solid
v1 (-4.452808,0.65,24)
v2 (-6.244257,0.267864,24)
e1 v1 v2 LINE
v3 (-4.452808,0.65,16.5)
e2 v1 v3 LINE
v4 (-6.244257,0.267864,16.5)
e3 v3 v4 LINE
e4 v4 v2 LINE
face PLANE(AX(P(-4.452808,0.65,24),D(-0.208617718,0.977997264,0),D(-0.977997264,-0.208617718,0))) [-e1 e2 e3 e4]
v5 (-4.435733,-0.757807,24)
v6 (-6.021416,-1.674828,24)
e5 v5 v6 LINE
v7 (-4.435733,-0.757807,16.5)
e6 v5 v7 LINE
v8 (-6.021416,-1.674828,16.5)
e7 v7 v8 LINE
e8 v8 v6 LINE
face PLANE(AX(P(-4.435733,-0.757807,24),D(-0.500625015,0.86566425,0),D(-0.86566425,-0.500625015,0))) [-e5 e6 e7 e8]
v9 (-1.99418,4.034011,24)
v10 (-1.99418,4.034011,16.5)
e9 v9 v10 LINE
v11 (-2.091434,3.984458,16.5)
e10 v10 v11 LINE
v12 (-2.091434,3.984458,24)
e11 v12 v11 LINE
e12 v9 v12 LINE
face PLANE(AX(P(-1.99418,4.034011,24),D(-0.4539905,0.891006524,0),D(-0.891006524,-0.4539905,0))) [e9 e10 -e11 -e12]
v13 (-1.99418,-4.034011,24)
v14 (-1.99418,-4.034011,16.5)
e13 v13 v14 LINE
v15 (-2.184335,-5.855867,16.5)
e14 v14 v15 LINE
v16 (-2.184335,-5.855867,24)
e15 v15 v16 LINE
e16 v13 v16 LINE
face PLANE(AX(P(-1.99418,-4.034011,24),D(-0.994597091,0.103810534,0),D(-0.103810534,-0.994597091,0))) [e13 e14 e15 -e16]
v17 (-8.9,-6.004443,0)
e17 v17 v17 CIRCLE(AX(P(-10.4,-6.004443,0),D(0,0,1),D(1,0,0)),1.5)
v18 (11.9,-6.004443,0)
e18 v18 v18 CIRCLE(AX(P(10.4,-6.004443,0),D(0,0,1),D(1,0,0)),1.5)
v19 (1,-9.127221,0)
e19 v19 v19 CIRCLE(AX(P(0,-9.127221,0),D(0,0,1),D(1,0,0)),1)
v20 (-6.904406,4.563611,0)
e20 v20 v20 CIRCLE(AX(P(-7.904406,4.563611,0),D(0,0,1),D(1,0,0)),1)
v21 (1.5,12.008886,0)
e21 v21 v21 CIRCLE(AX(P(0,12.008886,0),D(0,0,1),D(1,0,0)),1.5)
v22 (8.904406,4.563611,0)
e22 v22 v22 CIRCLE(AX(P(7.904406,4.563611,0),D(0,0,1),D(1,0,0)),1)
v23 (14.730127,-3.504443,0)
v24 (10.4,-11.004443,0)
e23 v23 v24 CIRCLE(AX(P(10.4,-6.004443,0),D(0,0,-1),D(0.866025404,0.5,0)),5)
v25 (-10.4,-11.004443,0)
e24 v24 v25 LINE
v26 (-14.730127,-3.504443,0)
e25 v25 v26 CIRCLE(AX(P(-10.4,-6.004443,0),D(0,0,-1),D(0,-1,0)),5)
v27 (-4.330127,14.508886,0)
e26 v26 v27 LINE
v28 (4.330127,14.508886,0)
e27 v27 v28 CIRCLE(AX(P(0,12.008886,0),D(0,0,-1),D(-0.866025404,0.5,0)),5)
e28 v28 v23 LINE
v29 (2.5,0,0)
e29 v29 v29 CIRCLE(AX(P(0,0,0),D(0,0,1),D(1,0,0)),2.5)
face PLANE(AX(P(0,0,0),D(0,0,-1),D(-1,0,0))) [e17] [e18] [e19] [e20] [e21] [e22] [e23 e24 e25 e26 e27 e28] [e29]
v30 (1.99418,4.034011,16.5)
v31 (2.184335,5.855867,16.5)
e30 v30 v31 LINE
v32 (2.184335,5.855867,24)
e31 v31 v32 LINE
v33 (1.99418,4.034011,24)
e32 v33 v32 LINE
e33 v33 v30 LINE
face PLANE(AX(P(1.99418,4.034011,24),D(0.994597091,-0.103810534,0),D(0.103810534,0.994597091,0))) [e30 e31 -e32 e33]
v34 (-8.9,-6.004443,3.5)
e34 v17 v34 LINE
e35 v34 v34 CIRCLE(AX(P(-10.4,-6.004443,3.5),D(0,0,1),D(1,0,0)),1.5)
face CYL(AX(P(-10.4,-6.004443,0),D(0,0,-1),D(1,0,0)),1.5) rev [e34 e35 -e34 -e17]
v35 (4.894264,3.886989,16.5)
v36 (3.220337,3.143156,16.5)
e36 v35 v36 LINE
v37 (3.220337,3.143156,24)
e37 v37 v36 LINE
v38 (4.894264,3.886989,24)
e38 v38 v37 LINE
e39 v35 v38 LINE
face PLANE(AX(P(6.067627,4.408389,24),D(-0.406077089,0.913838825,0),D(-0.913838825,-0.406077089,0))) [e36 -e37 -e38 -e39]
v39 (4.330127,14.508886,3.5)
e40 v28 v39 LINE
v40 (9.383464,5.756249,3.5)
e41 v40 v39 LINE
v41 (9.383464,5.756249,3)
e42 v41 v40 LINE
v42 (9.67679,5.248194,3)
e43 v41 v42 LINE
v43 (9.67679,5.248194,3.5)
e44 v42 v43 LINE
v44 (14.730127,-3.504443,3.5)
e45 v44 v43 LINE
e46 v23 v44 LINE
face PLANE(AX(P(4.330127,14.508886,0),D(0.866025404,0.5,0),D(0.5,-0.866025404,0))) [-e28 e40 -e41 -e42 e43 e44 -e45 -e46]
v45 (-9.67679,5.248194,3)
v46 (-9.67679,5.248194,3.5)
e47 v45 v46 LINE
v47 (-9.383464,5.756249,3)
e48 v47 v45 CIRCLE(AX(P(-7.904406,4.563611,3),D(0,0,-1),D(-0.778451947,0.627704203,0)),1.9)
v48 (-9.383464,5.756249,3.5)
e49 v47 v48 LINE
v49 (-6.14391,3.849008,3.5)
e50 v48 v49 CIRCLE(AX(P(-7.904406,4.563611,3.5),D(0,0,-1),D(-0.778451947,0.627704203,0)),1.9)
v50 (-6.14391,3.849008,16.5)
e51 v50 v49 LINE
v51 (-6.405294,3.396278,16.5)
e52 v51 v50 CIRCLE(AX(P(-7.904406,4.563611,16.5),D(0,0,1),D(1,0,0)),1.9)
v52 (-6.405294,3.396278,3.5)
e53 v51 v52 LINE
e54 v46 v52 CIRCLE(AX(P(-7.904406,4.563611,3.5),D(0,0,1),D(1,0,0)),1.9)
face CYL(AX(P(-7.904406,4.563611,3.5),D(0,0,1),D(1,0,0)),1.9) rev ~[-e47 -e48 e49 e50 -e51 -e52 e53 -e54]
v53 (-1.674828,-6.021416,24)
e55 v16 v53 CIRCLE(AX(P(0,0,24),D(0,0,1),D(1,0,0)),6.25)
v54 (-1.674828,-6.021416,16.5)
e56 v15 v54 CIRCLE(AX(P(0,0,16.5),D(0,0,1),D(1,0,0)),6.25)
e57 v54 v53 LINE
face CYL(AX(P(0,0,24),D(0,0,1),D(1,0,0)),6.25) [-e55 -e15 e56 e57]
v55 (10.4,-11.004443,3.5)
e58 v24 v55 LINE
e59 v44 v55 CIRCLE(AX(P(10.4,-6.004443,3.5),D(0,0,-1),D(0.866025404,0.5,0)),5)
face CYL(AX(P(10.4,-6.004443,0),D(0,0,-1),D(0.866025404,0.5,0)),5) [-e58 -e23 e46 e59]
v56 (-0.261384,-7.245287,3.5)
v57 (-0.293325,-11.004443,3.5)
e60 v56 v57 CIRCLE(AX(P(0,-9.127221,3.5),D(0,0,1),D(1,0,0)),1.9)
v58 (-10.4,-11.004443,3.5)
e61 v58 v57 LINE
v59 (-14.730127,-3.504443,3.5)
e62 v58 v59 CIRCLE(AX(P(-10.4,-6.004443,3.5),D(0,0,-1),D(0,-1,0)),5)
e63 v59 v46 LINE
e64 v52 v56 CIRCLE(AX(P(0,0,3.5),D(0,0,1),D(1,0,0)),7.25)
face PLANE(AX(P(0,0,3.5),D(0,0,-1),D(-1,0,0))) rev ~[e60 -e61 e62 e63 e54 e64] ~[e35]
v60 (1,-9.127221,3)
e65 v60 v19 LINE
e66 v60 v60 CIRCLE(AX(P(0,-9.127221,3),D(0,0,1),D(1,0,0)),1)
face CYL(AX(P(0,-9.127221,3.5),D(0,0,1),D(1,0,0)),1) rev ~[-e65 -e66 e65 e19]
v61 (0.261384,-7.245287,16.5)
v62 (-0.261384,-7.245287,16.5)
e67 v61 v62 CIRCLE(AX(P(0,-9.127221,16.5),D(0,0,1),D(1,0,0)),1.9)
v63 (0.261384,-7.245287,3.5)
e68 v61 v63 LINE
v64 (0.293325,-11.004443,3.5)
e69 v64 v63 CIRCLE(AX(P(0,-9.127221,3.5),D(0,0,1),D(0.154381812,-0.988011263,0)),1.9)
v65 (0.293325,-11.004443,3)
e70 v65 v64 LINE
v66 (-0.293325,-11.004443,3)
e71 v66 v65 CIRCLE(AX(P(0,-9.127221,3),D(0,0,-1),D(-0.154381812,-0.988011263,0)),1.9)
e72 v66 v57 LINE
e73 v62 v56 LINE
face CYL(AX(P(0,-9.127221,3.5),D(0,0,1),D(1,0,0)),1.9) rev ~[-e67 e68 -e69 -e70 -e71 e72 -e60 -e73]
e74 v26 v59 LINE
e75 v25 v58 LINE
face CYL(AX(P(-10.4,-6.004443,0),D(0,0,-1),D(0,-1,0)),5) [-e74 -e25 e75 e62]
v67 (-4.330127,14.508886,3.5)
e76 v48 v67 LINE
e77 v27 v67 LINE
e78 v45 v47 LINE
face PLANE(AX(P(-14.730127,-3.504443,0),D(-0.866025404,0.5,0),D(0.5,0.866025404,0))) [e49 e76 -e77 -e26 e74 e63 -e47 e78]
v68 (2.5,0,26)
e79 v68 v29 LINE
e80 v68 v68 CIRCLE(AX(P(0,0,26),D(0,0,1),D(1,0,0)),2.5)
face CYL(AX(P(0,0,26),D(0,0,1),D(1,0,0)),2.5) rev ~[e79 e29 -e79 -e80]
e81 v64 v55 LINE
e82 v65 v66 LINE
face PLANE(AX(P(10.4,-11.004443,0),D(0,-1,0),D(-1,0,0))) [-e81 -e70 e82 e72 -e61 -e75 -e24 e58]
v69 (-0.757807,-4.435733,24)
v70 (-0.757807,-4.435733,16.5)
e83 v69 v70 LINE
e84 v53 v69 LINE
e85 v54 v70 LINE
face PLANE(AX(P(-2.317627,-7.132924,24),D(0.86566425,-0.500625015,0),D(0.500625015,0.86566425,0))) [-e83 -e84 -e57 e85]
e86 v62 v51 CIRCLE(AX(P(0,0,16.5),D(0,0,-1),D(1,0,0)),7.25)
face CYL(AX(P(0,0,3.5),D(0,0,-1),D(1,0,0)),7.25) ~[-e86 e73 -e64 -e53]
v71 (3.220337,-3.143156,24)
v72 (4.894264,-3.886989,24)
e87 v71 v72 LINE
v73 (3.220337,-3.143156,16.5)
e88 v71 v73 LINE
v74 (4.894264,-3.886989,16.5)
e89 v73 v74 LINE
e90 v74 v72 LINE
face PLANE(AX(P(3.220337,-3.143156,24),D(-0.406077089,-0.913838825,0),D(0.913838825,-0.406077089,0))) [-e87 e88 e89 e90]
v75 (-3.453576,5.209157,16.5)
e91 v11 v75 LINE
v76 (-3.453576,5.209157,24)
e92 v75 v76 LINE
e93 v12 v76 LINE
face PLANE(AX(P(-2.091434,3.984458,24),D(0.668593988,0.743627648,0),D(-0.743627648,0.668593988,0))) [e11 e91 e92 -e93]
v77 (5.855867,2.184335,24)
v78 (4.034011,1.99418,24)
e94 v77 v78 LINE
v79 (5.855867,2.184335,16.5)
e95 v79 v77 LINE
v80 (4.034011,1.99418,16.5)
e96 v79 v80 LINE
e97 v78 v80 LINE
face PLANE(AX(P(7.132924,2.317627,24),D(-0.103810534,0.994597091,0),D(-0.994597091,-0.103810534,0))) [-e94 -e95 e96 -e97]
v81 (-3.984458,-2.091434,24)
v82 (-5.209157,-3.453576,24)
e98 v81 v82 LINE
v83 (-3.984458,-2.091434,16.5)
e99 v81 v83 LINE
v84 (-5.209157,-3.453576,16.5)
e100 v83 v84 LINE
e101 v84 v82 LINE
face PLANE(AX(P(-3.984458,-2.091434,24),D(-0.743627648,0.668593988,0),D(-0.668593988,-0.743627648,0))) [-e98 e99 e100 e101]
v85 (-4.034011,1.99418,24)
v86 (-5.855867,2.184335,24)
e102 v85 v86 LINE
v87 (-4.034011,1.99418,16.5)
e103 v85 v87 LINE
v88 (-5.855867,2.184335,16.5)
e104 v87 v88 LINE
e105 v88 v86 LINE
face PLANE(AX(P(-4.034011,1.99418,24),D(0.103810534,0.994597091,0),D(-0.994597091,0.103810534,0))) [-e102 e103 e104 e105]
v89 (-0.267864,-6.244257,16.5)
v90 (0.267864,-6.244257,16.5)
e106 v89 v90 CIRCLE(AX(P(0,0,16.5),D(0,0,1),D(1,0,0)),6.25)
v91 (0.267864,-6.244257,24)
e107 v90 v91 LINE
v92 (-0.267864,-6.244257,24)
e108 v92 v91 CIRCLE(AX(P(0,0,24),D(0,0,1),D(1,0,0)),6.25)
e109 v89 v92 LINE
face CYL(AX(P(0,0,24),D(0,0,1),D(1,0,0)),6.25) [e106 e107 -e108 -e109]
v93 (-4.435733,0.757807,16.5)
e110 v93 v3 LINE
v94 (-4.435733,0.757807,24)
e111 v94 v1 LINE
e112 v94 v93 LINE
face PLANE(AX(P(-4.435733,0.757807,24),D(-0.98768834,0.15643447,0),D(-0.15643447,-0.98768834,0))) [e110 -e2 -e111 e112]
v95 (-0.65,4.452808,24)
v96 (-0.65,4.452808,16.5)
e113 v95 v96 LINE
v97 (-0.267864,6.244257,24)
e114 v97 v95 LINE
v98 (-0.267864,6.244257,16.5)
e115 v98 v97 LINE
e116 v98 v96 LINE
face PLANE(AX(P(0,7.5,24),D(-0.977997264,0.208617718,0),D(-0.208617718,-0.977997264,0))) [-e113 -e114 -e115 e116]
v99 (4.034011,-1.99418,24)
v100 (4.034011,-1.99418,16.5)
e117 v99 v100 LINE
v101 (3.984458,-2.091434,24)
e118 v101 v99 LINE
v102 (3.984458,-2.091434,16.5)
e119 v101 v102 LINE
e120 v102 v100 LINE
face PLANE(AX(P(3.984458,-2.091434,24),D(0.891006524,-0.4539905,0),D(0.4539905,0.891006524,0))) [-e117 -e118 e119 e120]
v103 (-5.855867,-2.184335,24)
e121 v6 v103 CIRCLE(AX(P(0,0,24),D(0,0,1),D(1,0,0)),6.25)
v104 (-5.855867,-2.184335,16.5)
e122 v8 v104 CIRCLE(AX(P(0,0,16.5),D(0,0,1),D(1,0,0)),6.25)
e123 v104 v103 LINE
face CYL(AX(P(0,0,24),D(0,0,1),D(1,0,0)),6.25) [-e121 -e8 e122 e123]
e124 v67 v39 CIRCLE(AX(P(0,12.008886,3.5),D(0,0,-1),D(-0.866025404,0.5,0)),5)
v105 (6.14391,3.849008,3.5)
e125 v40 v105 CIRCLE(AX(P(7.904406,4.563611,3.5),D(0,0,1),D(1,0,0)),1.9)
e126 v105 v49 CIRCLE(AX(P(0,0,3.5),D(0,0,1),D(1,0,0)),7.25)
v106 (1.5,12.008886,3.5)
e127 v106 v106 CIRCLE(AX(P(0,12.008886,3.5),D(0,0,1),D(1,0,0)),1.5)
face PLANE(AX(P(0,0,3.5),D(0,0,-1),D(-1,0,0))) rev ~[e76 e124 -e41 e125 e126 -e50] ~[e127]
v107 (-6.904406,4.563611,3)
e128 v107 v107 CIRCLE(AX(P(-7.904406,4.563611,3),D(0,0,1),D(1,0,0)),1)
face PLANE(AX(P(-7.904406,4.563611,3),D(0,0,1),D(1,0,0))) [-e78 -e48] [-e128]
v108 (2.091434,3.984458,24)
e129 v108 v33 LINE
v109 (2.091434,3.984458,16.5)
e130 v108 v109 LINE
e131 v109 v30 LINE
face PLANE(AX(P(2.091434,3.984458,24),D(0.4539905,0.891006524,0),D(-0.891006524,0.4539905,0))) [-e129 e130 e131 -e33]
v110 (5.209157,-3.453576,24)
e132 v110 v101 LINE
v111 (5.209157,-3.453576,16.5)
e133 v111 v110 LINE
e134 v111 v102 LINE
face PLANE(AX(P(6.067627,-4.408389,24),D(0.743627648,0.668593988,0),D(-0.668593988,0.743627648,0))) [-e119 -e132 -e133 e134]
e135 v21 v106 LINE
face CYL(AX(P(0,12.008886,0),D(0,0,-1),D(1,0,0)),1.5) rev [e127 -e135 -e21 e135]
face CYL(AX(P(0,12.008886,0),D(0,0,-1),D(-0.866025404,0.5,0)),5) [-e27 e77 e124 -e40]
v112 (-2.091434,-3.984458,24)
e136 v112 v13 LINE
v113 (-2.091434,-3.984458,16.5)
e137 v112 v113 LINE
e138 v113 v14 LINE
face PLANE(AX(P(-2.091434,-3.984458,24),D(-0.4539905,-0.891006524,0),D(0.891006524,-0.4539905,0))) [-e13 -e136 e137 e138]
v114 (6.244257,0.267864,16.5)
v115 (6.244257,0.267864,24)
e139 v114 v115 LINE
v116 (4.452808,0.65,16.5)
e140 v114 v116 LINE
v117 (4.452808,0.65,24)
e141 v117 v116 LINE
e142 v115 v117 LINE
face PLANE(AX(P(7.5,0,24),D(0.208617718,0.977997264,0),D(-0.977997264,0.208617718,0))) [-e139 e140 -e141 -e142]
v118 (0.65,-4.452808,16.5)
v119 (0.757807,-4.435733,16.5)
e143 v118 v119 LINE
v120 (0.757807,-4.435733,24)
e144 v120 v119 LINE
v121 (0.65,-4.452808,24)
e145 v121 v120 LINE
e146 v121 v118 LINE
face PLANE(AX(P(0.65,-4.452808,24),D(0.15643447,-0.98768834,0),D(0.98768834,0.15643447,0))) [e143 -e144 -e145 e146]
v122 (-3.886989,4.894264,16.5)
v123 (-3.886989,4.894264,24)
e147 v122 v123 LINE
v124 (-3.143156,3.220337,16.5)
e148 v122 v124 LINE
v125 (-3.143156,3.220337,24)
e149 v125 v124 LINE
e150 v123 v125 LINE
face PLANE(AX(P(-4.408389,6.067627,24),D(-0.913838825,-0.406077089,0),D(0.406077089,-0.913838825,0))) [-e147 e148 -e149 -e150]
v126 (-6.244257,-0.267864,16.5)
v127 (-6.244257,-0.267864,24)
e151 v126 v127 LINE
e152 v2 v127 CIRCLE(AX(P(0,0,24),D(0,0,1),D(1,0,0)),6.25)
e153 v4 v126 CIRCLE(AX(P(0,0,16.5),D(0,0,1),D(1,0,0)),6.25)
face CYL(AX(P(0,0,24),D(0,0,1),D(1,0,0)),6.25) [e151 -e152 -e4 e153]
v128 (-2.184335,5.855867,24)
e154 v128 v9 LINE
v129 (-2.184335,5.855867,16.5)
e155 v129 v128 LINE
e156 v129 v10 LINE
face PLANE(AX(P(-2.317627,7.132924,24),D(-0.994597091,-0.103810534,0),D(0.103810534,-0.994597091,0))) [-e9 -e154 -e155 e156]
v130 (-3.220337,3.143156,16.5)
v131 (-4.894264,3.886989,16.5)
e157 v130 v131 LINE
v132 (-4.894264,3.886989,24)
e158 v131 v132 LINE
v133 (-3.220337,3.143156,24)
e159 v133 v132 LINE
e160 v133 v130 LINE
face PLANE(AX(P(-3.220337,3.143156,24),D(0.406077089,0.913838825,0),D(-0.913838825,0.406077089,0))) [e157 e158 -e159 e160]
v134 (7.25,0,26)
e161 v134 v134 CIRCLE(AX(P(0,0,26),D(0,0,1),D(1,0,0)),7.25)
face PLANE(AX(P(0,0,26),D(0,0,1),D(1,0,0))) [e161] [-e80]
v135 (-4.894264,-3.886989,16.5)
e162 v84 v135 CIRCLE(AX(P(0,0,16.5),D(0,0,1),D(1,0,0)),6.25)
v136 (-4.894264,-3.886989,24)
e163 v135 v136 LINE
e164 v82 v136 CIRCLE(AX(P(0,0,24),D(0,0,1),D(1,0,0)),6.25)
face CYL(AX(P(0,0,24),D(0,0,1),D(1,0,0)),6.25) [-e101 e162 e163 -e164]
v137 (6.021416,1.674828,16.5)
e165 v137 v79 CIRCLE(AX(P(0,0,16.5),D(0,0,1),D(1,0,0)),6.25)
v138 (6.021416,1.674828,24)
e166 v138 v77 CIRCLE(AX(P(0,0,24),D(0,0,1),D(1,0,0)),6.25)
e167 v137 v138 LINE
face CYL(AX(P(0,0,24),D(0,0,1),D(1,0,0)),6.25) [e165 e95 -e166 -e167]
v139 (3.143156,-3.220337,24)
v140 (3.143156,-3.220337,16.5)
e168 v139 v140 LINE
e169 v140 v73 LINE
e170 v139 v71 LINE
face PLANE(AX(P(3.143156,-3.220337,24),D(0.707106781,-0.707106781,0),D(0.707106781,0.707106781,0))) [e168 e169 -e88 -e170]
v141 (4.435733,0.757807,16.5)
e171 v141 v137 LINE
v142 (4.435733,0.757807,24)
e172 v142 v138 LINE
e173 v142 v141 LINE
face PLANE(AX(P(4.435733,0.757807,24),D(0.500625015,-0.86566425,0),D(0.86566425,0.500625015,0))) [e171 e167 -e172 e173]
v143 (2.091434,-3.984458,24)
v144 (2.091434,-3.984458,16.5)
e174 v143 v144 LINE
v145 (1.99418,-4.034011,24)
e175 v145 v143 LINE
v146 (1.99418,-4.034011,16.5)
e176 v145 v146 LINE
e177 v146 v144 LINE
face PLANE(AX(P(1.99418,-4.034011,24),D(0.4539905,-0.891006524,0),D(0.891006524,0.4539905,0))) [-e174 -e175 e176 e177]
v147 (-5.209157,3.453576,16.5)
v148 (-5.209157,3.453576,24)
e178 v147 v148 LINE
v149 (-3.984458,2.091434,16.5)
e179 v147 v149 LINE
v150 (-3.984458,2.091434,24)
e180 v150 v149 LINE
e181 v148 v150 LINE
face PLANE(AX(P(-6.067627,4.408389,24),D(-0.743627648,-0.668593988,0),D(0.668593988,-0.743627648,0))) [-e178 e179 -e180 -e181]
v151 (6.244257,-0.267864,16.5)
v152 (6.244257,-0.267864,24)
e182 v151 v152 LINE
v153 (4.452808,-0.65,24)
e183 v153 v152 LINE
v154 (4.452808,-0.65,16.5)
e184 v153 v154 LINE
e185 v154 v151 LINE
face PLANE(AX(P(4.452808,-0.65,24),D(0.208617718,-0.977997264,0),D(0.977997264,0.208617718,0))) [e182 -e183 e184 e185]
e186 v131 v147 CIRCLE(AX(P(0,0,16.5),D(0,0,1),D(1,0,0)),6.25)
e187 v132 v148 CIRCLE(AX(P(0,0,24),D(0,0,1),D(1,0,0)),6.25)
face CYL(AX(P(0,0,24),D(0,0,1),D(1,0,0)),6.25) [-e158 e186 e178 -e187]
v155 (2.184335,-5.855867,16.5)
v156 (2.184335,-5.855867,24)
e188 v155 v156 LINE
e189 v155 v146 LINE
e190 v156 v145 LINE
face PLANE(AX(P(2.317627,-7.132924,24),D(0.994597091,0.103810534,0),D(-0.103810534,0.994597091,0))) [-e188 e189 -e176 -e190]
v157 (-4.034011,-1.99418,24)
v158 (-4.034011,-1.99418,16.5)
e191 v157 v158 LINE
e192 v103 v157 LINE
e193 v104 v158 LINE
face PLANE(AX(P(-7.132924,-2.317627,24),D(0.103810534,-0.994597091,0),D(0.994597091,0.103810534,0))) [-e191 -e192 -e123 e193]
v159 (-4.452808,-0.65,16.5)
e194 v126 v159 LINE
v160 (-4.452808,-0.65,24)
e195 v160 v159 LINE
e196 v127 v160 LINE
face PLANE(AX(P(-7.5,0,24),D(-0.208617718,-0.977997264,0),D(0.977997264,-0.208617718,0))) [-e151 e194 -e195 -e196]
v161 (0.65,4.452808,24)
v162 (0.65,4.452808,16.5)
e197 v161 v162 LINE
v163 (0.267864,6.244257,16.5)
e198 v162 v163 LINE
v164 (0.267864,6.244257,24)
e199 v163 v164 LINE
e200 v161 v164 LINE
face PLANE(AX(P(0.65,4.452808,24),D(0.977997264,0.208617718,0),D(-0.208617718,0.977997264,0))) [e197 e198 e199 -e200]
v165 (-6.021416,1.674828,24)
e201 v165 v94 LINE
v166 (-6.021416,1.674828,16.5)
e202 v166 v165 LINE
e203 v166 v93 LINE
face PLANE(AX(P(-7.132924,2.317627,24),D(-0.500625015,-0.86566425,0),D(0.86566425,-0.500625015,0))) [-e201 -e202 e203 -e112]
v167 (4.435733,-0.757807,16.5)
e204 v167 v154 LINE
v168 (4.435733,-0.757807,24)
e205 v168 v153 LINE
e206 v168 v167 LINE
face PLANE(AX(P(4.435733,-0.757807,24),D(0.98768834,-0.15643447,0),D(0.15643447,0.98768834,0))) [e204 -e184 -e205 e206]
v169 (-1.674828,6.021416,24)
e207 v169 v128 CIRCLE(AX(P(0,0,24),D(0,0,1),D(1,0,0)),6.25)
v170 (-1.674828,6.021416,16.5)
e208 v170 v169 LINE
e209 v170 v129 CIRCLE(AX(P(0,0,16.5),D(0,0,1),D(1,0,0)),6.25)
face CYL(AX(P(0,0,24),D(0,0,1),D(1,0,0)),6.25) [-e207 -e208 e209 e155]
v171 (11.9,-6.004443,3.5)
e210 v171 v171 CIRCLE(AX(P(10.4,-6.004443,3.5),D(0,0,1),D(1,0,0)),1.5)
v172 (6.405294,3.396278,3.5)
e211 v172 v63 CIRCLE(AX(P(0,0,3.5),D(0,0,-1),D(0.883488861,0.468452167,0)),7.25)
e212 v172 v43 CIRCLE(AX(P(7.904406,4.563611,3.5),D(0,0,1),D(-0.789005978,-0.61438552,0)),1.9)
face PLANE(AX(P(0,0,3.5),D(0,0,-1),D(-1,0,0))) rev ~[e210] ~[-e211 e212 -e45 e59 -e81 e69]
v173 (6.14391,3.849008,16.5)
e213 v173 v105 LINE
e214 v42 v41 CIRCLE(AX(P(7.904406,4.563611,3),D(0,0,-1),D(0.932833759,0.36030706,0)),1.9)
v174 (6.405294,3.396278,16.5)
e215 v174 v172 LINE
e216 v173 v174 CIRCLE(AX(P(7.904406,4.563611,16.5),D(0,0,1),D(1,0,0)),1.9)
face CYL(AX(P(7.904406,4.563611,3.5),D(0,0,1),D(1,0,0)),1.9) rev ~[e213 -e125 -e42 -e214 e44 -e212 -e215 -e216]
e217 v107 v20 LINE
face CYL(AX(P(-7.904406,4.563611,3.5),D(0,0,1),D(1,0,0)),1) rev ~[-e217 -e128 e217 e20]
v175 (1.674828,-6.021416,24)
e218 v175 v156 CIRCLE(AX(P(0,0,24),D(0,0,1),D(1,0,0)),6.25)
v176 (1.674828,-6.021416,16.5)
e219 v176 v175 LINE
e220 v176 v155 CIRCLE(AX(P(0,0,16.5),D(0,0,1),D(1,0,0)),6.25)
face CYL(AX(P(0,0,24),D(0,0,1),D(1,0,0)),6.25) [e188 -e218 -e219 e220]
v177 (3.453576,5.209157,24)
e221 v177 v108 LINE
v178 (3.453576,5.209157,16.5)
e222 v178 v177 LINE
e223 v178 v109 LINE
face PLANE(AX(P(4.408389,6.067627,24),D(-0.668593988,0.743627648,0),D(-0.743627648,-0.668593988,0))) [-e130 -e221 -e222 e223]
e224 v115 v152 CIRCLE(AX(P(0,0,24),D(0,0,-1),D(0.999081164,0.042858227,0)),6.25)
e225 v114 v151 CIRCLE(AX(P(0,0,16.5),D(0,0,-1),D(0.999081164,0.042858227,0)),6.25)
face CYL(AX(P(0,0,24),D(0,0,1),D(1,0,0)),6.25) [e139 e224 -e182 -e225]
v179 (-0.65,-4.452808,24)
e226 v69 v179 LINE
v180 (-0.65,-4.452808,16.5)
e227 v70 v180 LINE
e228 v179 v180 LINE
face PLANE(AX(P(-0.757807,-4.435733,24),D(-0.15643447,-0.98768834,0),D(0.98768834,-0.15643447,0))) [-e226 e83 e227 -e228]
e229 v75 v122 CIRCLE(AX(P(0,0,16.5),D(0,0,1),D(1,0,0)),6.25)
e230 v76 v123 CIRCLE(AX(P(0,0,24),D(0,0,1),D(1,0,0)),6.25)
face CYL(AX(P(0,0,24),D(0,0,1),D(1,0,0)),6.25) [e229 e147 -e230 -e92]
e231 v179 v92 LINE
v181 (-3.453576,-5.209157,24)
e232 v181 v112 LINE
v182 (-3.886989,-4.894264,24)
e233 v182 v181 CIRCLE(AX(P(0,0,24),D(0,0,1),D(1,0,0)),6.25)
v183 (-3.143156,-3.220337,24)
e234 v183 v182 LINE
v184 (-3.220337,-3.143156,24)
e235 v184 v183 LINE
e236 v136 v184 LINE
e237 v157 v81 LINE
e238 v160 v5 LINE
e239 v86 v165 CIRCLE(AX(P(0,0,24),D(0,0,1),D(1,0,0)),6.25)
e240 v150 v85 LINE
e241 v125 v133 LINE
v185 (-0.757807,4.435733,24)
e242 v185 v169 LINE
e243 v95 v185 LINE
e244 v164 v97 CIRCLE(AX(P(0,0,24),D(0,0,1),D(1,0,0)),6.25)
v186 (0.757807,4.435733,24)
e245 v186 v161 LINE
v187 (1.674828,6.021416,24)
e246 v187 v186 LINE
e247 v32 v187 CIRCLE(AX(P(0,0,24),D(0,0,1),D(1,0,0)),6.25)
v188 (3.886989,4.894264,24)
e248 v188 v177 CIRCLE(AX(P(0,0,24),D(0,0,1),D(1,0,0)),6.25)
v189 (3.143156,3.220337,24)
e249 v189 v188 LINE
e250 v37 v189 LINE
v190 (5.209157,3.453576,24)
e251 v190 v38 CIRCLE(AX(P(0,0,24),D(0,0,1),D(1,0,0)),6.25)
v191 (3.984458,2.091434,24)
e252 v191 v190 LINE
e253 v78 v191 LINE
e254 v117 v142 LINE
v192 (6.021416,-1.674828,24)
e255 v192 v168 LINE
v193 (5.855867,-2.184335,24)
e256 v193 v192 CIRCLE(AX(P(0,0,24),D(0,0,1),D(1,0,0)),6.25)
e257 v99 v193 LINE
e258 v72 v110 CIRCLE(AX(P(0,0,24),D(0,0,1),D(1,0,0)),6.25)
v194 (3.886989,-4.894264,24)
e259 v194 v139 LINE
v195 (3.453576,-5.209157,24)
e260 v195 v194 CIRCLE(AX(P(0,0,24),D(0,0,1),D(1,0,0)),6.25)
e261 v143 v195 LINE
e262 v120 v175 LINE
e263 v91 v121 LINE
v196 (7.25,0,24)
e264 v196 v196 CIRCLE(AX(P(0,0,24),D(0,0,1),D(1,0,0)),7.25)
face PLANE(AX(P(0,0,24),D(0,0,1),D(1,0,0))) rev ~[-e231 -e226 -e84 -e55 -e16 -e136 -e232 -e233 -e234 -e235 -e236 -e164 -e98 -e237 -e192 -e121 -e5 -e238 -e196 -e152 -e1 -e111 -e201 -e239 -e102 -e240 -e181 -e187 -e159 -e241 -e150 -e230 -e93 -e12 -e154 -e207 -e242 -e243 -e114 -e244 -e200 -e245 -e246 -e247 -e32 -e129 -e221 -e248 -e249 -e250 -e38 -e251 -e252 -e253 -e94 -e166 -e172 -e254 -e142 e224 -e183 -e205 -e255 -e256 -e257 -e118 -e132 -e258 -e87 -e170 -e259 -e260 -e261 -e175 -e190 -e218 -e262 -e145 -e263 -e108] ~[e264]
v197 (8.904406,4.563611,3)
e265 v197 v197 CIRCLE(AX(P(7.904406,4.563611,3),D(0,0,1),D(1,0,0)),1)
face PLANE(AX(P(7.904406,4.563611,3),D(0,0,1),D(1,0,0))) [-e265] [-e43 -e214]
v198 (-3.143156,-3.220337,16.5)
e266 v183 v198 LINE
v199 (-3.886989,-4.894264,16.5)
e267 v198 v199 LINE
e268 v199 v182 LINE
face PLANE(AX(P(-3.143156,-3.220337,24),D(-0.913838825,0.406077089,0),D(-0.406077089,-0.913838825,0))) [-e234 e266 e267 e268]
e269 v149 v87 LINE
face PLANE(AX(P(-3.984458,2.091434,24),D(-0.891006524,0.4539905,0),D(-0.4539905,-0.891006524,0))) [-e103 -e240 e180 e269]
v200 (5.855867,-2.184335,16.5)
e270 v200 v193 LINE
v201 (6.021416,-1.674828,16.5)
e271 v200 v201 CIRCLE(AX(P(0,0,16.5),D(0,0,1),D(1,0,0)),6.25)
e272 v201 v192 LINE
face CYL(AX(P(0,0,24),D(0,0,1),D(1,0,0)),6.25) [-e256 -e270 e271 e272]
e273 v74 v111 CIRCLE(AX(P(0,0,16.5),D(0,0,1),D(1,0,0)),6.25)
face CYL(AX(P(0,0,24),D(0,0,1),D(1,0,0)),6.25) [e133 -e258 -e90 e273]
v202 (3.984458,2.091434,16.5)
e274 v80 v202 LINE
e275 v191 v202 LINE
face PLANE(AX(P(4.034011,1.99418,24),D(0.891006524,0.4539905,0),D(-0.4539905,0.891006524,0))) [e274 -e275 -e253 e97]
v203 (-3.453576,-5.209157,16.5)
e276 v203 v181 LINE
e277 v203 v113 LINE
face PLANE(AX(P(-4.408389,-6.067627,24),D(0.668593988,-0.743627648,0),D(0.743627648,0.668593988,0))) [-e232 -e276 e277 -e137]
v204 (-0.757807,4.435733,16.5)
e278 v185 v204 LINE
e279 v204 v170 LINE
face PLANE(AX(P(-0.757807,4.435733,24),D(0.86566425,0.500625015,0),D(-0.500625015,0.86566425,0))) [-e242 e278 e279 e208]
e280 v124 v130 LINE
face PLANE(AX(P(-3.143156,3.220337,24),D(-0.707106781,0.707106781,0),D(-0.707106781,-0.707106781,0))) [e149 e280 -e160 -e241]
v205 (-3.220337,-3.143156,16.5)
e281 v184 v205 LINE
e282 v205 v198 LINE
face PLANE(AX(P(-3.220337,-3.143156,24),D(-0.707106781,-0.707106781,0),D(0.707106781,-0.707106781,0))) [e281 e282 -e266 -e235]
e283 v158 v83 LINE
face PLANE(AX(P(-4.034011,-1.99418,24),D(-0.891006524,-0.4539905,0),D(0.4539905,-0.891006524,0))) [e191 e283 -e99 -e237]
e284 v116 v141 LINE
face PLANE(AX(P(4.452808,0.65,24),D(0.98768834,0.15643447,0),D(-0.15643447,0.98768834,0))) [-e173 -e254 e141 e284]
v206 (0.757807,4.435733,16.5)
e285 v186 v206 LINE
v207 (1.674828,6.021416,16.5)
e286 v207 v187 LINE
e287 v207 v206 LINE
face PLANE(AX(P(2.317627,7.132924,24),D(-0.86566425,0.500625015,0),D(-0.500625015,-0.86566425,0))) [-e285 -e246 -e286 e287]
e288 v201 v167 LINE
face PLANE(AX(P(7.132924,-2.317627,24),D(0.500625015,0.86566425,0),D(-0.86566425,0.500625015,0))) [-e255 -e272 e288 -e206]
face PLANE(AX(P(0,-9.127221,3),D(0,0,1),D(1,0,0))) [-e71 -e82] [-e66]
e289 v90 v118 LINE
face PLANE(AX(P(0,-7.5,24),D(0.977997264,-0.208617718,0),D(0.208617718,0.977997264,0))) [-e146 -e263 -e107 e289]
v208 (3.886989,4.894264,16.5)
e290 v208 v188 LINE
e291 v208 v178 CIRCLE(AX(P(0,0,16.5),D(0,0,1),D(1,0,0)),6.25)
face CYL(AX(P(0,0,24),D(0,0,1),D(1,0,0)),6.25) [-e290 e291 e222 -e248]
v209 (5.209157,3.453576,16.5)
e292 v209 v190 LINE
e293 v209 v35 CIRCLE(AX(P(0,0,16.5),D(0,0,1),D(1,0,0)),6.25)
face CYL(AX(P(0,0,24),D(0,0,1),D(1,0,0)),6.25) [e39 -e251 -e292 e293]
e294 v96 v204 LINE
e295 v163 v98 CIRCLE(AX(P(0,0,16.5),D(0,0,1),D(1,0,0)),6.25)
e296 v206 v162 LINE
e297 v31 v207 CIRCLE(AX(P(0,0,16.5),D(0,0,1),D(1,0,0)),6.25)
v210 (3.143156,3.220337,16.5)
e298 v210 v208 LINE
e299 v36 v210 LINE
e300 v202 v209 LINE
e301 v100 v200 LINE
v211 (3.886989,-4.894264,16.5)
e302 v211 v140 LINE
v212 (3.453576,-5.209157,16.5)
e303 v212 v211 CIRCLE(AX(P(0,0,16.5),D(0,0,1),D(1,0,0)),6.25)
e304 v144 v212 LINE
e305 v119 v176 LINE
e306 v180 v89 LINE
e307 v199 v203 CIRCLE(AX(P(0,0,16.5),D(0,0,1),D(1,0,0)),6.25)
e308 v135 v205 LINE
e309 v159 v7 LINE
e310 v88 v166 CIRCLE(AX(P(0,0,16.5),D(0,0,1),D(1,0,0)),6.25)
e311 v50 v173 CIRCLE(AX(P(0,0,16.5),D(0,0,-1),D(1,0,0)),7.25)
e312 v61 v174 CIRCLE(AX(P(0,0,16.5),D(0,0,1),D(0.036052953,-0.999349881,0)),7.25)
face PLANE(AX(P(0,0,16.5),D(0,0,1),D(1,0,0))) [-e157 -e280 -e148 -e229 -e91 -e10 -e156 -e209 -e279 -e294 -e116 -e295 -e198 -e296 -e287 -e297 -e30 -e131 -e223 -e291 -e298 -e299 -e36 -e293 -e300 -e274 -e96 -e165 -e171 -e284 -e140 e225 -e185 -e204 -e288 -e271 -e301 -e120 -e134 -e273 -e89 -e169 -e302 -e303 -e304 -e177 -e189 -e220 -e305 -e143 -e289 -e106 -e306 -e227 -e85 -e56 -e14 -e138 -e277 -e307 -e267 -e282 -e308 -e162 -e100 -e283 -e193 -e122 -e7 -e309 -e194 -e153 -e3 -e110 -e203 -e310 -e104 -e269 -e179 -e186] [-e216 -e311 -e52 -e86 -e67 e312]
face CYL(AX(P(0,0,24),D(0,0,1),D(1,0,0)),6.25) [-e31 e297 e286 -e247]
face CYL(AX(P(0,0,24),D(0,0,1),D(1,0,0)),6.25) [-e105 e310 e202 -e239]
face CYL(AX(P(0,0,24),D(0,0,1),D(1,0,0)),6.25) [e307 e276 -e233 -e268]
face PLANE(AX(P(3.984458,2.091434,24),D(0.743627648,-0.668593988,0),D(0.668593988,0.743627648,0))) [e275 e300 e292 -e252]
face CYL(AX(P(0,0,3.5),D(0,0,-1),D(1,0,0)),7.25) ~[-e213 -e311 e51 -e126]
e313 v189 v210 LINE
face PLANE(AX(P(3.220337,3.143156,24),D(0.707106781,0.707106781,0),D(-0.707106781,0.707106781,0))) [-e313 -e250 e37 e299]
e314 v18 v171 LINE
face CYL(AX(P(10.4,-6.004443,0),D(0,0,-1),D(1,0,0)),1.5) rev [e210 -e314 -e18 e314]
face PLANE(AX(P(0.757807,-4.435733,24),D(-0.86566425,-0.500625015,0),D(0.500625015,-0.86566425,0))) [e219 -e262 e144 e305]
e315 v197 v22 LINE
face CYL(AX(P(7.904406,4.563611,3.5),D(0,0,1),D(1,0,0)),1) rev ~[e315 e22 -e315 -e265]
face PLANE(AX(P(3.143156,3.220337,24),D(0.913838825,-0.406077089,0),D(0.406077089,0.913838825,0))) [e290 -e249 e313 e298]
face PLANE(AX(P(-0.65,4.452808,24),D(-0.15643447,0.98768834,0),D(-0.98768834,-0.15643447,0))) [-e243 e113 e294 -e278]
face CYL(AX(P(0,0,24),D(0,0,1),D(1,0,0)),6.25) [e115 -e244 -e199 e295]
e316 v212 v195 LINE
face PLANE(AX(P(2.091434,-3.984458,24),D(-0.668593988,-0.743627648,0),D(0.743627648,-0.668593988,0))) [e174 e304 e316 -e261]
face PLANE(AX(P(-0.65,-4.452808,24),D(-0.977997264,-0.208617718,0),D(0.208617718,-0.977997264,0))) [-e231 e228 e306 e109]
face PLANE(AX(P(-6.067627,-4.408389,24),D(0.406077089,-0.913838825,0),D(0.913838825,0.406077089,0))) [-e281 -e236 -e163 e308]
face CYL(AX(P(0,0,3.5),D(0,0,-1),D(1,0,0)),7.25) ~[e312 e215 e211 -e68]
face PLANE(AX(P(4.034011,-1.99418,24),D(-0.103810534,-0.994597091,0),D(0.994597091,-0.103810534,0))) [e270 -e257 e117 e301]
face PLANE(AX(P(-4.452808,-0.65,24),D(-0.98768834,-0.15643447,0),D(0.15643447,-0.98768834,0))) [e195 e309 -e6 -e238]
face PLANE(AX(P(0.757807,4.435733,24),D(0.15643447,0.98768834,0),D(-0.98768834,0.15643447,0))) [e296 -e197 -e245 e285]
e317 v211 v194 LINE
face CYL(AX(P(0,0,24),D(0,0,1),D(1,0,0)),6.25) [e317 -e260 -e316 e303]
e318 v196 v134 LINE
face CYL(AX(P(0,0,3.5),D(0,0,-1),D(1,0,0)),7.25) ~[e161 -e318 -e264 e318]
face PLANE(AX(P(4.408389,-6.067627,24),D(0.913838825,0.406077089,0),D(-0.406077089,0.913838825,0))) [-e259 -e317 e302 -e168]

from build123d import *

# Parameters (mm, degrees)
SKETCH1_R               = 1.5
BOSS_EXTRUDE1_DEPTH     = 3.5
SKETCH2_R               = 7.25
BOSS_EXTRUDE2_DEPTH     = 22.5
SKETCH3_R               = 2.5
CUT_EXTRUDE1_DEPTH      = 27
SKETCH6_R               = 9.569614172
CUT_EXTRUDE6_DEPTH      = 7.5
SKETCH7_R               = 17.775779512
SKETCH7_R_2             = 6.25
CUT_EXTRUDE7_DEPTH      = 7.5
SKETCH8_R               = 1
CUT_EXTRUDE8_DEPTH      = 4.5
SKETCH9_R               = 1.9
CUT_EXTRUDE9_DEPTH      = 13
CUT_EXTRUDE9_DEPTH_BACK = 0.5


with BuildPart() as part:
    # Sketch1 → Boss-Extrude1 (new body)
    with BuildSketch(Plane.XY):
        with BuildLine():
            Line((-14.730127019, -3.5044428), (-4.330127019, 14.508885599))
            ThreePointArc((-4.330127019, 14.508885599), (0, 17.008885599), (4.330127019, 14.508885599))
            Line((4.330127019, 14.508885599), (14.730127019, -3.5044428))
            ThreePointArc((14.730127019, -3.5044428), (14.730127019, -8.5044428), (10.4, -11.0044428))
            Line((10.4, -11.0044428), (-10.4, -11.0044428))
            ThreePointArc((-10.4, -11.0044428), (-14.730127019, -8.5044428), (-14.730127019, -3.5044428))
        make_face()
        with Locations((0, 12.008885599)):
            Circle(SKETCH1_R, mode=Mode.SUBTRACT)
        with Locations((-10.4, -6.0044428)):
            Circle(SKETCH1_R, mode=Mode.SUBTRACT)
        with Locations((10.4, -6.0044428)):
            Circle(SKETCH1_R, mode=Mode.SUBTRACT)
    extrude(amount=BOSS_EXTRUDE1_DEPTH)

    # Sketch2 → Boss-Extrude2 (add)
    with BuildSketch(Plane.XY.offset(3.5)):
        Circle(SKETCH2_R)
    extrude(amount=BOSS_EXTRUDE2_DEPTH)

    # Sketch3 → Cut-Extrude1 (cut, through all)
    with BuildSketch(Plane.XY.offset(26)):
        Circle(SKETCH3_R)
    extrude(amount=-CUT_EXTRUDE1_DEPTH, mode=Mode.SUBTRACT)

    # Sketch6 → Cut-Extrude6 (cut)
    with BuildSketch(Plane.XY.offset(24)):
        Circle(SKETCH6_R)
        Polygon((7.5, 0), (4.452808103, 0.65), (4.435733208, 0.757806641), (7.132923872, 2.317627458), (4.034011116, 1.994180112), (3.984457842, 2.091433888), (6.067627458, 4.408389392), (3.220337014, 3.14315598), (3.14315598, 3.220337014), (4.408389392, 6.067627458), (2.091433888, 3.984457842), (1.994180112, 4.034011116), (2.317627458, 7.132923872), (0.757806641, 4.435733208), (0.65, 4.452808103), (0, 7.5), (-0.65, 4.452808103), (-0.757806641, 4.435733208), (-2.317627458, 7.132923872), (-1.994180112, 4.034011116), (-2.091433888, 3.984457842), (-4.408389392, 6.067627458), (-3.14315598, 3.220337014), (-3.220337014, 3.14315598), (-6.067627458, 4.408389392), (-3.984457842, 2.091433888), (-4.034011116, 1.994180112), (-7.132923872, 2.317627458), (-4.435733208, 0.757806641), (-4.452808103, 0.65), (-7.5, 0), (-4.452808103, -0.65), (-4.435733208, -0.757806641), (-7.132923872, -2.317627458), (-4.034011116, -1.994180112), (-3.984457842, -2.091433888), (-6.067627458, -4.408389392), (-3.220337014, -3.14315598), (-3.14315598, -3.220337014), (-4.408389392, -6.067627458), (-2.091433888, -3.984457842), (-1.994180112, -4.034011116), (-2.317627458, -7.132923872), (-0.757806641, -4.435733208), (-0.65, -4.452808103), (0, -7.5), (0.65, -4.452808103), (0.757806641, -4.435733208), (2.317627458, -7.132923872), (1.994180112, -4.034011116), (2.091433888, -3.984457842), (4.408389392, -6.067627458), (3.14315598, -3.220337014), (3.220337014, -3.14315598), (6.067627458, -4.408389392), (3.984457842, -2.091433888), (4.034011116, -1.994180112), (7.132923872, -2.317627458), (4.435733208, -0.757806641), (4.452808103, -0.65), align=None, mode=Mode.SUBTRACT)
    extrude(amount=-CUT_EXTRUDE6_DEPTH, mode=Mode.SUBTRACT)

    # Sketch7 → Cut-Extrude7 (cut)
    with BuildSketch(Plane.XY.offset(24)):
        Circle(SKETCH7_R)
        Circle(SKETCH7_R_2, mode=Mode.SUBTRACT)
    extrude(amount=-CUT_EXTRUDE7_DEPTH, mode=Mode.SUBTRACT)

    # Sketch8 → Cut-Extrude8 (cut, through all)
    with BuildSketch(Plane.XY.offset(3.5)):
        with Locations((7.904405598, 4.5636107)):
            Circle(SKETCH8_R)
        with Locations((0, -9.1272214)):
            Circle(SKETCH8_R)
        with Locations((-7.904405598, 4.5636107)):
            Circle(SKETCH8_R)
    extrude(amount=-CUT_EXTRUDE8_DEPTH, mode=Mode.SUBTRACT)

    # Sketch9 → Cut-Extrude9 (cut, two sides)
    with BuildSketch(Plane.XY.offset(3.5)) as cut_extrude9_sk:
        with Locations((7.904405598, 4.5636107)):
            Circle(SKETCH9_R)
        with Locations((0, -9.1272214)):
            Circle(SKETCH9_R)
        with Locations((-7.904405598, 4.5636107)):
            Circle(SKETCH9_R)
    extrude(amount=CUT_EXTRUDE9_DEPTH, mode=Mode.SUBTRACT)
    extrude(cut_extrude9_sk.sketch, amount=-CUT_EXTRUDE9_DEPTH_BACK, mode=Mode.SUBTRACT)


solid = part.part
